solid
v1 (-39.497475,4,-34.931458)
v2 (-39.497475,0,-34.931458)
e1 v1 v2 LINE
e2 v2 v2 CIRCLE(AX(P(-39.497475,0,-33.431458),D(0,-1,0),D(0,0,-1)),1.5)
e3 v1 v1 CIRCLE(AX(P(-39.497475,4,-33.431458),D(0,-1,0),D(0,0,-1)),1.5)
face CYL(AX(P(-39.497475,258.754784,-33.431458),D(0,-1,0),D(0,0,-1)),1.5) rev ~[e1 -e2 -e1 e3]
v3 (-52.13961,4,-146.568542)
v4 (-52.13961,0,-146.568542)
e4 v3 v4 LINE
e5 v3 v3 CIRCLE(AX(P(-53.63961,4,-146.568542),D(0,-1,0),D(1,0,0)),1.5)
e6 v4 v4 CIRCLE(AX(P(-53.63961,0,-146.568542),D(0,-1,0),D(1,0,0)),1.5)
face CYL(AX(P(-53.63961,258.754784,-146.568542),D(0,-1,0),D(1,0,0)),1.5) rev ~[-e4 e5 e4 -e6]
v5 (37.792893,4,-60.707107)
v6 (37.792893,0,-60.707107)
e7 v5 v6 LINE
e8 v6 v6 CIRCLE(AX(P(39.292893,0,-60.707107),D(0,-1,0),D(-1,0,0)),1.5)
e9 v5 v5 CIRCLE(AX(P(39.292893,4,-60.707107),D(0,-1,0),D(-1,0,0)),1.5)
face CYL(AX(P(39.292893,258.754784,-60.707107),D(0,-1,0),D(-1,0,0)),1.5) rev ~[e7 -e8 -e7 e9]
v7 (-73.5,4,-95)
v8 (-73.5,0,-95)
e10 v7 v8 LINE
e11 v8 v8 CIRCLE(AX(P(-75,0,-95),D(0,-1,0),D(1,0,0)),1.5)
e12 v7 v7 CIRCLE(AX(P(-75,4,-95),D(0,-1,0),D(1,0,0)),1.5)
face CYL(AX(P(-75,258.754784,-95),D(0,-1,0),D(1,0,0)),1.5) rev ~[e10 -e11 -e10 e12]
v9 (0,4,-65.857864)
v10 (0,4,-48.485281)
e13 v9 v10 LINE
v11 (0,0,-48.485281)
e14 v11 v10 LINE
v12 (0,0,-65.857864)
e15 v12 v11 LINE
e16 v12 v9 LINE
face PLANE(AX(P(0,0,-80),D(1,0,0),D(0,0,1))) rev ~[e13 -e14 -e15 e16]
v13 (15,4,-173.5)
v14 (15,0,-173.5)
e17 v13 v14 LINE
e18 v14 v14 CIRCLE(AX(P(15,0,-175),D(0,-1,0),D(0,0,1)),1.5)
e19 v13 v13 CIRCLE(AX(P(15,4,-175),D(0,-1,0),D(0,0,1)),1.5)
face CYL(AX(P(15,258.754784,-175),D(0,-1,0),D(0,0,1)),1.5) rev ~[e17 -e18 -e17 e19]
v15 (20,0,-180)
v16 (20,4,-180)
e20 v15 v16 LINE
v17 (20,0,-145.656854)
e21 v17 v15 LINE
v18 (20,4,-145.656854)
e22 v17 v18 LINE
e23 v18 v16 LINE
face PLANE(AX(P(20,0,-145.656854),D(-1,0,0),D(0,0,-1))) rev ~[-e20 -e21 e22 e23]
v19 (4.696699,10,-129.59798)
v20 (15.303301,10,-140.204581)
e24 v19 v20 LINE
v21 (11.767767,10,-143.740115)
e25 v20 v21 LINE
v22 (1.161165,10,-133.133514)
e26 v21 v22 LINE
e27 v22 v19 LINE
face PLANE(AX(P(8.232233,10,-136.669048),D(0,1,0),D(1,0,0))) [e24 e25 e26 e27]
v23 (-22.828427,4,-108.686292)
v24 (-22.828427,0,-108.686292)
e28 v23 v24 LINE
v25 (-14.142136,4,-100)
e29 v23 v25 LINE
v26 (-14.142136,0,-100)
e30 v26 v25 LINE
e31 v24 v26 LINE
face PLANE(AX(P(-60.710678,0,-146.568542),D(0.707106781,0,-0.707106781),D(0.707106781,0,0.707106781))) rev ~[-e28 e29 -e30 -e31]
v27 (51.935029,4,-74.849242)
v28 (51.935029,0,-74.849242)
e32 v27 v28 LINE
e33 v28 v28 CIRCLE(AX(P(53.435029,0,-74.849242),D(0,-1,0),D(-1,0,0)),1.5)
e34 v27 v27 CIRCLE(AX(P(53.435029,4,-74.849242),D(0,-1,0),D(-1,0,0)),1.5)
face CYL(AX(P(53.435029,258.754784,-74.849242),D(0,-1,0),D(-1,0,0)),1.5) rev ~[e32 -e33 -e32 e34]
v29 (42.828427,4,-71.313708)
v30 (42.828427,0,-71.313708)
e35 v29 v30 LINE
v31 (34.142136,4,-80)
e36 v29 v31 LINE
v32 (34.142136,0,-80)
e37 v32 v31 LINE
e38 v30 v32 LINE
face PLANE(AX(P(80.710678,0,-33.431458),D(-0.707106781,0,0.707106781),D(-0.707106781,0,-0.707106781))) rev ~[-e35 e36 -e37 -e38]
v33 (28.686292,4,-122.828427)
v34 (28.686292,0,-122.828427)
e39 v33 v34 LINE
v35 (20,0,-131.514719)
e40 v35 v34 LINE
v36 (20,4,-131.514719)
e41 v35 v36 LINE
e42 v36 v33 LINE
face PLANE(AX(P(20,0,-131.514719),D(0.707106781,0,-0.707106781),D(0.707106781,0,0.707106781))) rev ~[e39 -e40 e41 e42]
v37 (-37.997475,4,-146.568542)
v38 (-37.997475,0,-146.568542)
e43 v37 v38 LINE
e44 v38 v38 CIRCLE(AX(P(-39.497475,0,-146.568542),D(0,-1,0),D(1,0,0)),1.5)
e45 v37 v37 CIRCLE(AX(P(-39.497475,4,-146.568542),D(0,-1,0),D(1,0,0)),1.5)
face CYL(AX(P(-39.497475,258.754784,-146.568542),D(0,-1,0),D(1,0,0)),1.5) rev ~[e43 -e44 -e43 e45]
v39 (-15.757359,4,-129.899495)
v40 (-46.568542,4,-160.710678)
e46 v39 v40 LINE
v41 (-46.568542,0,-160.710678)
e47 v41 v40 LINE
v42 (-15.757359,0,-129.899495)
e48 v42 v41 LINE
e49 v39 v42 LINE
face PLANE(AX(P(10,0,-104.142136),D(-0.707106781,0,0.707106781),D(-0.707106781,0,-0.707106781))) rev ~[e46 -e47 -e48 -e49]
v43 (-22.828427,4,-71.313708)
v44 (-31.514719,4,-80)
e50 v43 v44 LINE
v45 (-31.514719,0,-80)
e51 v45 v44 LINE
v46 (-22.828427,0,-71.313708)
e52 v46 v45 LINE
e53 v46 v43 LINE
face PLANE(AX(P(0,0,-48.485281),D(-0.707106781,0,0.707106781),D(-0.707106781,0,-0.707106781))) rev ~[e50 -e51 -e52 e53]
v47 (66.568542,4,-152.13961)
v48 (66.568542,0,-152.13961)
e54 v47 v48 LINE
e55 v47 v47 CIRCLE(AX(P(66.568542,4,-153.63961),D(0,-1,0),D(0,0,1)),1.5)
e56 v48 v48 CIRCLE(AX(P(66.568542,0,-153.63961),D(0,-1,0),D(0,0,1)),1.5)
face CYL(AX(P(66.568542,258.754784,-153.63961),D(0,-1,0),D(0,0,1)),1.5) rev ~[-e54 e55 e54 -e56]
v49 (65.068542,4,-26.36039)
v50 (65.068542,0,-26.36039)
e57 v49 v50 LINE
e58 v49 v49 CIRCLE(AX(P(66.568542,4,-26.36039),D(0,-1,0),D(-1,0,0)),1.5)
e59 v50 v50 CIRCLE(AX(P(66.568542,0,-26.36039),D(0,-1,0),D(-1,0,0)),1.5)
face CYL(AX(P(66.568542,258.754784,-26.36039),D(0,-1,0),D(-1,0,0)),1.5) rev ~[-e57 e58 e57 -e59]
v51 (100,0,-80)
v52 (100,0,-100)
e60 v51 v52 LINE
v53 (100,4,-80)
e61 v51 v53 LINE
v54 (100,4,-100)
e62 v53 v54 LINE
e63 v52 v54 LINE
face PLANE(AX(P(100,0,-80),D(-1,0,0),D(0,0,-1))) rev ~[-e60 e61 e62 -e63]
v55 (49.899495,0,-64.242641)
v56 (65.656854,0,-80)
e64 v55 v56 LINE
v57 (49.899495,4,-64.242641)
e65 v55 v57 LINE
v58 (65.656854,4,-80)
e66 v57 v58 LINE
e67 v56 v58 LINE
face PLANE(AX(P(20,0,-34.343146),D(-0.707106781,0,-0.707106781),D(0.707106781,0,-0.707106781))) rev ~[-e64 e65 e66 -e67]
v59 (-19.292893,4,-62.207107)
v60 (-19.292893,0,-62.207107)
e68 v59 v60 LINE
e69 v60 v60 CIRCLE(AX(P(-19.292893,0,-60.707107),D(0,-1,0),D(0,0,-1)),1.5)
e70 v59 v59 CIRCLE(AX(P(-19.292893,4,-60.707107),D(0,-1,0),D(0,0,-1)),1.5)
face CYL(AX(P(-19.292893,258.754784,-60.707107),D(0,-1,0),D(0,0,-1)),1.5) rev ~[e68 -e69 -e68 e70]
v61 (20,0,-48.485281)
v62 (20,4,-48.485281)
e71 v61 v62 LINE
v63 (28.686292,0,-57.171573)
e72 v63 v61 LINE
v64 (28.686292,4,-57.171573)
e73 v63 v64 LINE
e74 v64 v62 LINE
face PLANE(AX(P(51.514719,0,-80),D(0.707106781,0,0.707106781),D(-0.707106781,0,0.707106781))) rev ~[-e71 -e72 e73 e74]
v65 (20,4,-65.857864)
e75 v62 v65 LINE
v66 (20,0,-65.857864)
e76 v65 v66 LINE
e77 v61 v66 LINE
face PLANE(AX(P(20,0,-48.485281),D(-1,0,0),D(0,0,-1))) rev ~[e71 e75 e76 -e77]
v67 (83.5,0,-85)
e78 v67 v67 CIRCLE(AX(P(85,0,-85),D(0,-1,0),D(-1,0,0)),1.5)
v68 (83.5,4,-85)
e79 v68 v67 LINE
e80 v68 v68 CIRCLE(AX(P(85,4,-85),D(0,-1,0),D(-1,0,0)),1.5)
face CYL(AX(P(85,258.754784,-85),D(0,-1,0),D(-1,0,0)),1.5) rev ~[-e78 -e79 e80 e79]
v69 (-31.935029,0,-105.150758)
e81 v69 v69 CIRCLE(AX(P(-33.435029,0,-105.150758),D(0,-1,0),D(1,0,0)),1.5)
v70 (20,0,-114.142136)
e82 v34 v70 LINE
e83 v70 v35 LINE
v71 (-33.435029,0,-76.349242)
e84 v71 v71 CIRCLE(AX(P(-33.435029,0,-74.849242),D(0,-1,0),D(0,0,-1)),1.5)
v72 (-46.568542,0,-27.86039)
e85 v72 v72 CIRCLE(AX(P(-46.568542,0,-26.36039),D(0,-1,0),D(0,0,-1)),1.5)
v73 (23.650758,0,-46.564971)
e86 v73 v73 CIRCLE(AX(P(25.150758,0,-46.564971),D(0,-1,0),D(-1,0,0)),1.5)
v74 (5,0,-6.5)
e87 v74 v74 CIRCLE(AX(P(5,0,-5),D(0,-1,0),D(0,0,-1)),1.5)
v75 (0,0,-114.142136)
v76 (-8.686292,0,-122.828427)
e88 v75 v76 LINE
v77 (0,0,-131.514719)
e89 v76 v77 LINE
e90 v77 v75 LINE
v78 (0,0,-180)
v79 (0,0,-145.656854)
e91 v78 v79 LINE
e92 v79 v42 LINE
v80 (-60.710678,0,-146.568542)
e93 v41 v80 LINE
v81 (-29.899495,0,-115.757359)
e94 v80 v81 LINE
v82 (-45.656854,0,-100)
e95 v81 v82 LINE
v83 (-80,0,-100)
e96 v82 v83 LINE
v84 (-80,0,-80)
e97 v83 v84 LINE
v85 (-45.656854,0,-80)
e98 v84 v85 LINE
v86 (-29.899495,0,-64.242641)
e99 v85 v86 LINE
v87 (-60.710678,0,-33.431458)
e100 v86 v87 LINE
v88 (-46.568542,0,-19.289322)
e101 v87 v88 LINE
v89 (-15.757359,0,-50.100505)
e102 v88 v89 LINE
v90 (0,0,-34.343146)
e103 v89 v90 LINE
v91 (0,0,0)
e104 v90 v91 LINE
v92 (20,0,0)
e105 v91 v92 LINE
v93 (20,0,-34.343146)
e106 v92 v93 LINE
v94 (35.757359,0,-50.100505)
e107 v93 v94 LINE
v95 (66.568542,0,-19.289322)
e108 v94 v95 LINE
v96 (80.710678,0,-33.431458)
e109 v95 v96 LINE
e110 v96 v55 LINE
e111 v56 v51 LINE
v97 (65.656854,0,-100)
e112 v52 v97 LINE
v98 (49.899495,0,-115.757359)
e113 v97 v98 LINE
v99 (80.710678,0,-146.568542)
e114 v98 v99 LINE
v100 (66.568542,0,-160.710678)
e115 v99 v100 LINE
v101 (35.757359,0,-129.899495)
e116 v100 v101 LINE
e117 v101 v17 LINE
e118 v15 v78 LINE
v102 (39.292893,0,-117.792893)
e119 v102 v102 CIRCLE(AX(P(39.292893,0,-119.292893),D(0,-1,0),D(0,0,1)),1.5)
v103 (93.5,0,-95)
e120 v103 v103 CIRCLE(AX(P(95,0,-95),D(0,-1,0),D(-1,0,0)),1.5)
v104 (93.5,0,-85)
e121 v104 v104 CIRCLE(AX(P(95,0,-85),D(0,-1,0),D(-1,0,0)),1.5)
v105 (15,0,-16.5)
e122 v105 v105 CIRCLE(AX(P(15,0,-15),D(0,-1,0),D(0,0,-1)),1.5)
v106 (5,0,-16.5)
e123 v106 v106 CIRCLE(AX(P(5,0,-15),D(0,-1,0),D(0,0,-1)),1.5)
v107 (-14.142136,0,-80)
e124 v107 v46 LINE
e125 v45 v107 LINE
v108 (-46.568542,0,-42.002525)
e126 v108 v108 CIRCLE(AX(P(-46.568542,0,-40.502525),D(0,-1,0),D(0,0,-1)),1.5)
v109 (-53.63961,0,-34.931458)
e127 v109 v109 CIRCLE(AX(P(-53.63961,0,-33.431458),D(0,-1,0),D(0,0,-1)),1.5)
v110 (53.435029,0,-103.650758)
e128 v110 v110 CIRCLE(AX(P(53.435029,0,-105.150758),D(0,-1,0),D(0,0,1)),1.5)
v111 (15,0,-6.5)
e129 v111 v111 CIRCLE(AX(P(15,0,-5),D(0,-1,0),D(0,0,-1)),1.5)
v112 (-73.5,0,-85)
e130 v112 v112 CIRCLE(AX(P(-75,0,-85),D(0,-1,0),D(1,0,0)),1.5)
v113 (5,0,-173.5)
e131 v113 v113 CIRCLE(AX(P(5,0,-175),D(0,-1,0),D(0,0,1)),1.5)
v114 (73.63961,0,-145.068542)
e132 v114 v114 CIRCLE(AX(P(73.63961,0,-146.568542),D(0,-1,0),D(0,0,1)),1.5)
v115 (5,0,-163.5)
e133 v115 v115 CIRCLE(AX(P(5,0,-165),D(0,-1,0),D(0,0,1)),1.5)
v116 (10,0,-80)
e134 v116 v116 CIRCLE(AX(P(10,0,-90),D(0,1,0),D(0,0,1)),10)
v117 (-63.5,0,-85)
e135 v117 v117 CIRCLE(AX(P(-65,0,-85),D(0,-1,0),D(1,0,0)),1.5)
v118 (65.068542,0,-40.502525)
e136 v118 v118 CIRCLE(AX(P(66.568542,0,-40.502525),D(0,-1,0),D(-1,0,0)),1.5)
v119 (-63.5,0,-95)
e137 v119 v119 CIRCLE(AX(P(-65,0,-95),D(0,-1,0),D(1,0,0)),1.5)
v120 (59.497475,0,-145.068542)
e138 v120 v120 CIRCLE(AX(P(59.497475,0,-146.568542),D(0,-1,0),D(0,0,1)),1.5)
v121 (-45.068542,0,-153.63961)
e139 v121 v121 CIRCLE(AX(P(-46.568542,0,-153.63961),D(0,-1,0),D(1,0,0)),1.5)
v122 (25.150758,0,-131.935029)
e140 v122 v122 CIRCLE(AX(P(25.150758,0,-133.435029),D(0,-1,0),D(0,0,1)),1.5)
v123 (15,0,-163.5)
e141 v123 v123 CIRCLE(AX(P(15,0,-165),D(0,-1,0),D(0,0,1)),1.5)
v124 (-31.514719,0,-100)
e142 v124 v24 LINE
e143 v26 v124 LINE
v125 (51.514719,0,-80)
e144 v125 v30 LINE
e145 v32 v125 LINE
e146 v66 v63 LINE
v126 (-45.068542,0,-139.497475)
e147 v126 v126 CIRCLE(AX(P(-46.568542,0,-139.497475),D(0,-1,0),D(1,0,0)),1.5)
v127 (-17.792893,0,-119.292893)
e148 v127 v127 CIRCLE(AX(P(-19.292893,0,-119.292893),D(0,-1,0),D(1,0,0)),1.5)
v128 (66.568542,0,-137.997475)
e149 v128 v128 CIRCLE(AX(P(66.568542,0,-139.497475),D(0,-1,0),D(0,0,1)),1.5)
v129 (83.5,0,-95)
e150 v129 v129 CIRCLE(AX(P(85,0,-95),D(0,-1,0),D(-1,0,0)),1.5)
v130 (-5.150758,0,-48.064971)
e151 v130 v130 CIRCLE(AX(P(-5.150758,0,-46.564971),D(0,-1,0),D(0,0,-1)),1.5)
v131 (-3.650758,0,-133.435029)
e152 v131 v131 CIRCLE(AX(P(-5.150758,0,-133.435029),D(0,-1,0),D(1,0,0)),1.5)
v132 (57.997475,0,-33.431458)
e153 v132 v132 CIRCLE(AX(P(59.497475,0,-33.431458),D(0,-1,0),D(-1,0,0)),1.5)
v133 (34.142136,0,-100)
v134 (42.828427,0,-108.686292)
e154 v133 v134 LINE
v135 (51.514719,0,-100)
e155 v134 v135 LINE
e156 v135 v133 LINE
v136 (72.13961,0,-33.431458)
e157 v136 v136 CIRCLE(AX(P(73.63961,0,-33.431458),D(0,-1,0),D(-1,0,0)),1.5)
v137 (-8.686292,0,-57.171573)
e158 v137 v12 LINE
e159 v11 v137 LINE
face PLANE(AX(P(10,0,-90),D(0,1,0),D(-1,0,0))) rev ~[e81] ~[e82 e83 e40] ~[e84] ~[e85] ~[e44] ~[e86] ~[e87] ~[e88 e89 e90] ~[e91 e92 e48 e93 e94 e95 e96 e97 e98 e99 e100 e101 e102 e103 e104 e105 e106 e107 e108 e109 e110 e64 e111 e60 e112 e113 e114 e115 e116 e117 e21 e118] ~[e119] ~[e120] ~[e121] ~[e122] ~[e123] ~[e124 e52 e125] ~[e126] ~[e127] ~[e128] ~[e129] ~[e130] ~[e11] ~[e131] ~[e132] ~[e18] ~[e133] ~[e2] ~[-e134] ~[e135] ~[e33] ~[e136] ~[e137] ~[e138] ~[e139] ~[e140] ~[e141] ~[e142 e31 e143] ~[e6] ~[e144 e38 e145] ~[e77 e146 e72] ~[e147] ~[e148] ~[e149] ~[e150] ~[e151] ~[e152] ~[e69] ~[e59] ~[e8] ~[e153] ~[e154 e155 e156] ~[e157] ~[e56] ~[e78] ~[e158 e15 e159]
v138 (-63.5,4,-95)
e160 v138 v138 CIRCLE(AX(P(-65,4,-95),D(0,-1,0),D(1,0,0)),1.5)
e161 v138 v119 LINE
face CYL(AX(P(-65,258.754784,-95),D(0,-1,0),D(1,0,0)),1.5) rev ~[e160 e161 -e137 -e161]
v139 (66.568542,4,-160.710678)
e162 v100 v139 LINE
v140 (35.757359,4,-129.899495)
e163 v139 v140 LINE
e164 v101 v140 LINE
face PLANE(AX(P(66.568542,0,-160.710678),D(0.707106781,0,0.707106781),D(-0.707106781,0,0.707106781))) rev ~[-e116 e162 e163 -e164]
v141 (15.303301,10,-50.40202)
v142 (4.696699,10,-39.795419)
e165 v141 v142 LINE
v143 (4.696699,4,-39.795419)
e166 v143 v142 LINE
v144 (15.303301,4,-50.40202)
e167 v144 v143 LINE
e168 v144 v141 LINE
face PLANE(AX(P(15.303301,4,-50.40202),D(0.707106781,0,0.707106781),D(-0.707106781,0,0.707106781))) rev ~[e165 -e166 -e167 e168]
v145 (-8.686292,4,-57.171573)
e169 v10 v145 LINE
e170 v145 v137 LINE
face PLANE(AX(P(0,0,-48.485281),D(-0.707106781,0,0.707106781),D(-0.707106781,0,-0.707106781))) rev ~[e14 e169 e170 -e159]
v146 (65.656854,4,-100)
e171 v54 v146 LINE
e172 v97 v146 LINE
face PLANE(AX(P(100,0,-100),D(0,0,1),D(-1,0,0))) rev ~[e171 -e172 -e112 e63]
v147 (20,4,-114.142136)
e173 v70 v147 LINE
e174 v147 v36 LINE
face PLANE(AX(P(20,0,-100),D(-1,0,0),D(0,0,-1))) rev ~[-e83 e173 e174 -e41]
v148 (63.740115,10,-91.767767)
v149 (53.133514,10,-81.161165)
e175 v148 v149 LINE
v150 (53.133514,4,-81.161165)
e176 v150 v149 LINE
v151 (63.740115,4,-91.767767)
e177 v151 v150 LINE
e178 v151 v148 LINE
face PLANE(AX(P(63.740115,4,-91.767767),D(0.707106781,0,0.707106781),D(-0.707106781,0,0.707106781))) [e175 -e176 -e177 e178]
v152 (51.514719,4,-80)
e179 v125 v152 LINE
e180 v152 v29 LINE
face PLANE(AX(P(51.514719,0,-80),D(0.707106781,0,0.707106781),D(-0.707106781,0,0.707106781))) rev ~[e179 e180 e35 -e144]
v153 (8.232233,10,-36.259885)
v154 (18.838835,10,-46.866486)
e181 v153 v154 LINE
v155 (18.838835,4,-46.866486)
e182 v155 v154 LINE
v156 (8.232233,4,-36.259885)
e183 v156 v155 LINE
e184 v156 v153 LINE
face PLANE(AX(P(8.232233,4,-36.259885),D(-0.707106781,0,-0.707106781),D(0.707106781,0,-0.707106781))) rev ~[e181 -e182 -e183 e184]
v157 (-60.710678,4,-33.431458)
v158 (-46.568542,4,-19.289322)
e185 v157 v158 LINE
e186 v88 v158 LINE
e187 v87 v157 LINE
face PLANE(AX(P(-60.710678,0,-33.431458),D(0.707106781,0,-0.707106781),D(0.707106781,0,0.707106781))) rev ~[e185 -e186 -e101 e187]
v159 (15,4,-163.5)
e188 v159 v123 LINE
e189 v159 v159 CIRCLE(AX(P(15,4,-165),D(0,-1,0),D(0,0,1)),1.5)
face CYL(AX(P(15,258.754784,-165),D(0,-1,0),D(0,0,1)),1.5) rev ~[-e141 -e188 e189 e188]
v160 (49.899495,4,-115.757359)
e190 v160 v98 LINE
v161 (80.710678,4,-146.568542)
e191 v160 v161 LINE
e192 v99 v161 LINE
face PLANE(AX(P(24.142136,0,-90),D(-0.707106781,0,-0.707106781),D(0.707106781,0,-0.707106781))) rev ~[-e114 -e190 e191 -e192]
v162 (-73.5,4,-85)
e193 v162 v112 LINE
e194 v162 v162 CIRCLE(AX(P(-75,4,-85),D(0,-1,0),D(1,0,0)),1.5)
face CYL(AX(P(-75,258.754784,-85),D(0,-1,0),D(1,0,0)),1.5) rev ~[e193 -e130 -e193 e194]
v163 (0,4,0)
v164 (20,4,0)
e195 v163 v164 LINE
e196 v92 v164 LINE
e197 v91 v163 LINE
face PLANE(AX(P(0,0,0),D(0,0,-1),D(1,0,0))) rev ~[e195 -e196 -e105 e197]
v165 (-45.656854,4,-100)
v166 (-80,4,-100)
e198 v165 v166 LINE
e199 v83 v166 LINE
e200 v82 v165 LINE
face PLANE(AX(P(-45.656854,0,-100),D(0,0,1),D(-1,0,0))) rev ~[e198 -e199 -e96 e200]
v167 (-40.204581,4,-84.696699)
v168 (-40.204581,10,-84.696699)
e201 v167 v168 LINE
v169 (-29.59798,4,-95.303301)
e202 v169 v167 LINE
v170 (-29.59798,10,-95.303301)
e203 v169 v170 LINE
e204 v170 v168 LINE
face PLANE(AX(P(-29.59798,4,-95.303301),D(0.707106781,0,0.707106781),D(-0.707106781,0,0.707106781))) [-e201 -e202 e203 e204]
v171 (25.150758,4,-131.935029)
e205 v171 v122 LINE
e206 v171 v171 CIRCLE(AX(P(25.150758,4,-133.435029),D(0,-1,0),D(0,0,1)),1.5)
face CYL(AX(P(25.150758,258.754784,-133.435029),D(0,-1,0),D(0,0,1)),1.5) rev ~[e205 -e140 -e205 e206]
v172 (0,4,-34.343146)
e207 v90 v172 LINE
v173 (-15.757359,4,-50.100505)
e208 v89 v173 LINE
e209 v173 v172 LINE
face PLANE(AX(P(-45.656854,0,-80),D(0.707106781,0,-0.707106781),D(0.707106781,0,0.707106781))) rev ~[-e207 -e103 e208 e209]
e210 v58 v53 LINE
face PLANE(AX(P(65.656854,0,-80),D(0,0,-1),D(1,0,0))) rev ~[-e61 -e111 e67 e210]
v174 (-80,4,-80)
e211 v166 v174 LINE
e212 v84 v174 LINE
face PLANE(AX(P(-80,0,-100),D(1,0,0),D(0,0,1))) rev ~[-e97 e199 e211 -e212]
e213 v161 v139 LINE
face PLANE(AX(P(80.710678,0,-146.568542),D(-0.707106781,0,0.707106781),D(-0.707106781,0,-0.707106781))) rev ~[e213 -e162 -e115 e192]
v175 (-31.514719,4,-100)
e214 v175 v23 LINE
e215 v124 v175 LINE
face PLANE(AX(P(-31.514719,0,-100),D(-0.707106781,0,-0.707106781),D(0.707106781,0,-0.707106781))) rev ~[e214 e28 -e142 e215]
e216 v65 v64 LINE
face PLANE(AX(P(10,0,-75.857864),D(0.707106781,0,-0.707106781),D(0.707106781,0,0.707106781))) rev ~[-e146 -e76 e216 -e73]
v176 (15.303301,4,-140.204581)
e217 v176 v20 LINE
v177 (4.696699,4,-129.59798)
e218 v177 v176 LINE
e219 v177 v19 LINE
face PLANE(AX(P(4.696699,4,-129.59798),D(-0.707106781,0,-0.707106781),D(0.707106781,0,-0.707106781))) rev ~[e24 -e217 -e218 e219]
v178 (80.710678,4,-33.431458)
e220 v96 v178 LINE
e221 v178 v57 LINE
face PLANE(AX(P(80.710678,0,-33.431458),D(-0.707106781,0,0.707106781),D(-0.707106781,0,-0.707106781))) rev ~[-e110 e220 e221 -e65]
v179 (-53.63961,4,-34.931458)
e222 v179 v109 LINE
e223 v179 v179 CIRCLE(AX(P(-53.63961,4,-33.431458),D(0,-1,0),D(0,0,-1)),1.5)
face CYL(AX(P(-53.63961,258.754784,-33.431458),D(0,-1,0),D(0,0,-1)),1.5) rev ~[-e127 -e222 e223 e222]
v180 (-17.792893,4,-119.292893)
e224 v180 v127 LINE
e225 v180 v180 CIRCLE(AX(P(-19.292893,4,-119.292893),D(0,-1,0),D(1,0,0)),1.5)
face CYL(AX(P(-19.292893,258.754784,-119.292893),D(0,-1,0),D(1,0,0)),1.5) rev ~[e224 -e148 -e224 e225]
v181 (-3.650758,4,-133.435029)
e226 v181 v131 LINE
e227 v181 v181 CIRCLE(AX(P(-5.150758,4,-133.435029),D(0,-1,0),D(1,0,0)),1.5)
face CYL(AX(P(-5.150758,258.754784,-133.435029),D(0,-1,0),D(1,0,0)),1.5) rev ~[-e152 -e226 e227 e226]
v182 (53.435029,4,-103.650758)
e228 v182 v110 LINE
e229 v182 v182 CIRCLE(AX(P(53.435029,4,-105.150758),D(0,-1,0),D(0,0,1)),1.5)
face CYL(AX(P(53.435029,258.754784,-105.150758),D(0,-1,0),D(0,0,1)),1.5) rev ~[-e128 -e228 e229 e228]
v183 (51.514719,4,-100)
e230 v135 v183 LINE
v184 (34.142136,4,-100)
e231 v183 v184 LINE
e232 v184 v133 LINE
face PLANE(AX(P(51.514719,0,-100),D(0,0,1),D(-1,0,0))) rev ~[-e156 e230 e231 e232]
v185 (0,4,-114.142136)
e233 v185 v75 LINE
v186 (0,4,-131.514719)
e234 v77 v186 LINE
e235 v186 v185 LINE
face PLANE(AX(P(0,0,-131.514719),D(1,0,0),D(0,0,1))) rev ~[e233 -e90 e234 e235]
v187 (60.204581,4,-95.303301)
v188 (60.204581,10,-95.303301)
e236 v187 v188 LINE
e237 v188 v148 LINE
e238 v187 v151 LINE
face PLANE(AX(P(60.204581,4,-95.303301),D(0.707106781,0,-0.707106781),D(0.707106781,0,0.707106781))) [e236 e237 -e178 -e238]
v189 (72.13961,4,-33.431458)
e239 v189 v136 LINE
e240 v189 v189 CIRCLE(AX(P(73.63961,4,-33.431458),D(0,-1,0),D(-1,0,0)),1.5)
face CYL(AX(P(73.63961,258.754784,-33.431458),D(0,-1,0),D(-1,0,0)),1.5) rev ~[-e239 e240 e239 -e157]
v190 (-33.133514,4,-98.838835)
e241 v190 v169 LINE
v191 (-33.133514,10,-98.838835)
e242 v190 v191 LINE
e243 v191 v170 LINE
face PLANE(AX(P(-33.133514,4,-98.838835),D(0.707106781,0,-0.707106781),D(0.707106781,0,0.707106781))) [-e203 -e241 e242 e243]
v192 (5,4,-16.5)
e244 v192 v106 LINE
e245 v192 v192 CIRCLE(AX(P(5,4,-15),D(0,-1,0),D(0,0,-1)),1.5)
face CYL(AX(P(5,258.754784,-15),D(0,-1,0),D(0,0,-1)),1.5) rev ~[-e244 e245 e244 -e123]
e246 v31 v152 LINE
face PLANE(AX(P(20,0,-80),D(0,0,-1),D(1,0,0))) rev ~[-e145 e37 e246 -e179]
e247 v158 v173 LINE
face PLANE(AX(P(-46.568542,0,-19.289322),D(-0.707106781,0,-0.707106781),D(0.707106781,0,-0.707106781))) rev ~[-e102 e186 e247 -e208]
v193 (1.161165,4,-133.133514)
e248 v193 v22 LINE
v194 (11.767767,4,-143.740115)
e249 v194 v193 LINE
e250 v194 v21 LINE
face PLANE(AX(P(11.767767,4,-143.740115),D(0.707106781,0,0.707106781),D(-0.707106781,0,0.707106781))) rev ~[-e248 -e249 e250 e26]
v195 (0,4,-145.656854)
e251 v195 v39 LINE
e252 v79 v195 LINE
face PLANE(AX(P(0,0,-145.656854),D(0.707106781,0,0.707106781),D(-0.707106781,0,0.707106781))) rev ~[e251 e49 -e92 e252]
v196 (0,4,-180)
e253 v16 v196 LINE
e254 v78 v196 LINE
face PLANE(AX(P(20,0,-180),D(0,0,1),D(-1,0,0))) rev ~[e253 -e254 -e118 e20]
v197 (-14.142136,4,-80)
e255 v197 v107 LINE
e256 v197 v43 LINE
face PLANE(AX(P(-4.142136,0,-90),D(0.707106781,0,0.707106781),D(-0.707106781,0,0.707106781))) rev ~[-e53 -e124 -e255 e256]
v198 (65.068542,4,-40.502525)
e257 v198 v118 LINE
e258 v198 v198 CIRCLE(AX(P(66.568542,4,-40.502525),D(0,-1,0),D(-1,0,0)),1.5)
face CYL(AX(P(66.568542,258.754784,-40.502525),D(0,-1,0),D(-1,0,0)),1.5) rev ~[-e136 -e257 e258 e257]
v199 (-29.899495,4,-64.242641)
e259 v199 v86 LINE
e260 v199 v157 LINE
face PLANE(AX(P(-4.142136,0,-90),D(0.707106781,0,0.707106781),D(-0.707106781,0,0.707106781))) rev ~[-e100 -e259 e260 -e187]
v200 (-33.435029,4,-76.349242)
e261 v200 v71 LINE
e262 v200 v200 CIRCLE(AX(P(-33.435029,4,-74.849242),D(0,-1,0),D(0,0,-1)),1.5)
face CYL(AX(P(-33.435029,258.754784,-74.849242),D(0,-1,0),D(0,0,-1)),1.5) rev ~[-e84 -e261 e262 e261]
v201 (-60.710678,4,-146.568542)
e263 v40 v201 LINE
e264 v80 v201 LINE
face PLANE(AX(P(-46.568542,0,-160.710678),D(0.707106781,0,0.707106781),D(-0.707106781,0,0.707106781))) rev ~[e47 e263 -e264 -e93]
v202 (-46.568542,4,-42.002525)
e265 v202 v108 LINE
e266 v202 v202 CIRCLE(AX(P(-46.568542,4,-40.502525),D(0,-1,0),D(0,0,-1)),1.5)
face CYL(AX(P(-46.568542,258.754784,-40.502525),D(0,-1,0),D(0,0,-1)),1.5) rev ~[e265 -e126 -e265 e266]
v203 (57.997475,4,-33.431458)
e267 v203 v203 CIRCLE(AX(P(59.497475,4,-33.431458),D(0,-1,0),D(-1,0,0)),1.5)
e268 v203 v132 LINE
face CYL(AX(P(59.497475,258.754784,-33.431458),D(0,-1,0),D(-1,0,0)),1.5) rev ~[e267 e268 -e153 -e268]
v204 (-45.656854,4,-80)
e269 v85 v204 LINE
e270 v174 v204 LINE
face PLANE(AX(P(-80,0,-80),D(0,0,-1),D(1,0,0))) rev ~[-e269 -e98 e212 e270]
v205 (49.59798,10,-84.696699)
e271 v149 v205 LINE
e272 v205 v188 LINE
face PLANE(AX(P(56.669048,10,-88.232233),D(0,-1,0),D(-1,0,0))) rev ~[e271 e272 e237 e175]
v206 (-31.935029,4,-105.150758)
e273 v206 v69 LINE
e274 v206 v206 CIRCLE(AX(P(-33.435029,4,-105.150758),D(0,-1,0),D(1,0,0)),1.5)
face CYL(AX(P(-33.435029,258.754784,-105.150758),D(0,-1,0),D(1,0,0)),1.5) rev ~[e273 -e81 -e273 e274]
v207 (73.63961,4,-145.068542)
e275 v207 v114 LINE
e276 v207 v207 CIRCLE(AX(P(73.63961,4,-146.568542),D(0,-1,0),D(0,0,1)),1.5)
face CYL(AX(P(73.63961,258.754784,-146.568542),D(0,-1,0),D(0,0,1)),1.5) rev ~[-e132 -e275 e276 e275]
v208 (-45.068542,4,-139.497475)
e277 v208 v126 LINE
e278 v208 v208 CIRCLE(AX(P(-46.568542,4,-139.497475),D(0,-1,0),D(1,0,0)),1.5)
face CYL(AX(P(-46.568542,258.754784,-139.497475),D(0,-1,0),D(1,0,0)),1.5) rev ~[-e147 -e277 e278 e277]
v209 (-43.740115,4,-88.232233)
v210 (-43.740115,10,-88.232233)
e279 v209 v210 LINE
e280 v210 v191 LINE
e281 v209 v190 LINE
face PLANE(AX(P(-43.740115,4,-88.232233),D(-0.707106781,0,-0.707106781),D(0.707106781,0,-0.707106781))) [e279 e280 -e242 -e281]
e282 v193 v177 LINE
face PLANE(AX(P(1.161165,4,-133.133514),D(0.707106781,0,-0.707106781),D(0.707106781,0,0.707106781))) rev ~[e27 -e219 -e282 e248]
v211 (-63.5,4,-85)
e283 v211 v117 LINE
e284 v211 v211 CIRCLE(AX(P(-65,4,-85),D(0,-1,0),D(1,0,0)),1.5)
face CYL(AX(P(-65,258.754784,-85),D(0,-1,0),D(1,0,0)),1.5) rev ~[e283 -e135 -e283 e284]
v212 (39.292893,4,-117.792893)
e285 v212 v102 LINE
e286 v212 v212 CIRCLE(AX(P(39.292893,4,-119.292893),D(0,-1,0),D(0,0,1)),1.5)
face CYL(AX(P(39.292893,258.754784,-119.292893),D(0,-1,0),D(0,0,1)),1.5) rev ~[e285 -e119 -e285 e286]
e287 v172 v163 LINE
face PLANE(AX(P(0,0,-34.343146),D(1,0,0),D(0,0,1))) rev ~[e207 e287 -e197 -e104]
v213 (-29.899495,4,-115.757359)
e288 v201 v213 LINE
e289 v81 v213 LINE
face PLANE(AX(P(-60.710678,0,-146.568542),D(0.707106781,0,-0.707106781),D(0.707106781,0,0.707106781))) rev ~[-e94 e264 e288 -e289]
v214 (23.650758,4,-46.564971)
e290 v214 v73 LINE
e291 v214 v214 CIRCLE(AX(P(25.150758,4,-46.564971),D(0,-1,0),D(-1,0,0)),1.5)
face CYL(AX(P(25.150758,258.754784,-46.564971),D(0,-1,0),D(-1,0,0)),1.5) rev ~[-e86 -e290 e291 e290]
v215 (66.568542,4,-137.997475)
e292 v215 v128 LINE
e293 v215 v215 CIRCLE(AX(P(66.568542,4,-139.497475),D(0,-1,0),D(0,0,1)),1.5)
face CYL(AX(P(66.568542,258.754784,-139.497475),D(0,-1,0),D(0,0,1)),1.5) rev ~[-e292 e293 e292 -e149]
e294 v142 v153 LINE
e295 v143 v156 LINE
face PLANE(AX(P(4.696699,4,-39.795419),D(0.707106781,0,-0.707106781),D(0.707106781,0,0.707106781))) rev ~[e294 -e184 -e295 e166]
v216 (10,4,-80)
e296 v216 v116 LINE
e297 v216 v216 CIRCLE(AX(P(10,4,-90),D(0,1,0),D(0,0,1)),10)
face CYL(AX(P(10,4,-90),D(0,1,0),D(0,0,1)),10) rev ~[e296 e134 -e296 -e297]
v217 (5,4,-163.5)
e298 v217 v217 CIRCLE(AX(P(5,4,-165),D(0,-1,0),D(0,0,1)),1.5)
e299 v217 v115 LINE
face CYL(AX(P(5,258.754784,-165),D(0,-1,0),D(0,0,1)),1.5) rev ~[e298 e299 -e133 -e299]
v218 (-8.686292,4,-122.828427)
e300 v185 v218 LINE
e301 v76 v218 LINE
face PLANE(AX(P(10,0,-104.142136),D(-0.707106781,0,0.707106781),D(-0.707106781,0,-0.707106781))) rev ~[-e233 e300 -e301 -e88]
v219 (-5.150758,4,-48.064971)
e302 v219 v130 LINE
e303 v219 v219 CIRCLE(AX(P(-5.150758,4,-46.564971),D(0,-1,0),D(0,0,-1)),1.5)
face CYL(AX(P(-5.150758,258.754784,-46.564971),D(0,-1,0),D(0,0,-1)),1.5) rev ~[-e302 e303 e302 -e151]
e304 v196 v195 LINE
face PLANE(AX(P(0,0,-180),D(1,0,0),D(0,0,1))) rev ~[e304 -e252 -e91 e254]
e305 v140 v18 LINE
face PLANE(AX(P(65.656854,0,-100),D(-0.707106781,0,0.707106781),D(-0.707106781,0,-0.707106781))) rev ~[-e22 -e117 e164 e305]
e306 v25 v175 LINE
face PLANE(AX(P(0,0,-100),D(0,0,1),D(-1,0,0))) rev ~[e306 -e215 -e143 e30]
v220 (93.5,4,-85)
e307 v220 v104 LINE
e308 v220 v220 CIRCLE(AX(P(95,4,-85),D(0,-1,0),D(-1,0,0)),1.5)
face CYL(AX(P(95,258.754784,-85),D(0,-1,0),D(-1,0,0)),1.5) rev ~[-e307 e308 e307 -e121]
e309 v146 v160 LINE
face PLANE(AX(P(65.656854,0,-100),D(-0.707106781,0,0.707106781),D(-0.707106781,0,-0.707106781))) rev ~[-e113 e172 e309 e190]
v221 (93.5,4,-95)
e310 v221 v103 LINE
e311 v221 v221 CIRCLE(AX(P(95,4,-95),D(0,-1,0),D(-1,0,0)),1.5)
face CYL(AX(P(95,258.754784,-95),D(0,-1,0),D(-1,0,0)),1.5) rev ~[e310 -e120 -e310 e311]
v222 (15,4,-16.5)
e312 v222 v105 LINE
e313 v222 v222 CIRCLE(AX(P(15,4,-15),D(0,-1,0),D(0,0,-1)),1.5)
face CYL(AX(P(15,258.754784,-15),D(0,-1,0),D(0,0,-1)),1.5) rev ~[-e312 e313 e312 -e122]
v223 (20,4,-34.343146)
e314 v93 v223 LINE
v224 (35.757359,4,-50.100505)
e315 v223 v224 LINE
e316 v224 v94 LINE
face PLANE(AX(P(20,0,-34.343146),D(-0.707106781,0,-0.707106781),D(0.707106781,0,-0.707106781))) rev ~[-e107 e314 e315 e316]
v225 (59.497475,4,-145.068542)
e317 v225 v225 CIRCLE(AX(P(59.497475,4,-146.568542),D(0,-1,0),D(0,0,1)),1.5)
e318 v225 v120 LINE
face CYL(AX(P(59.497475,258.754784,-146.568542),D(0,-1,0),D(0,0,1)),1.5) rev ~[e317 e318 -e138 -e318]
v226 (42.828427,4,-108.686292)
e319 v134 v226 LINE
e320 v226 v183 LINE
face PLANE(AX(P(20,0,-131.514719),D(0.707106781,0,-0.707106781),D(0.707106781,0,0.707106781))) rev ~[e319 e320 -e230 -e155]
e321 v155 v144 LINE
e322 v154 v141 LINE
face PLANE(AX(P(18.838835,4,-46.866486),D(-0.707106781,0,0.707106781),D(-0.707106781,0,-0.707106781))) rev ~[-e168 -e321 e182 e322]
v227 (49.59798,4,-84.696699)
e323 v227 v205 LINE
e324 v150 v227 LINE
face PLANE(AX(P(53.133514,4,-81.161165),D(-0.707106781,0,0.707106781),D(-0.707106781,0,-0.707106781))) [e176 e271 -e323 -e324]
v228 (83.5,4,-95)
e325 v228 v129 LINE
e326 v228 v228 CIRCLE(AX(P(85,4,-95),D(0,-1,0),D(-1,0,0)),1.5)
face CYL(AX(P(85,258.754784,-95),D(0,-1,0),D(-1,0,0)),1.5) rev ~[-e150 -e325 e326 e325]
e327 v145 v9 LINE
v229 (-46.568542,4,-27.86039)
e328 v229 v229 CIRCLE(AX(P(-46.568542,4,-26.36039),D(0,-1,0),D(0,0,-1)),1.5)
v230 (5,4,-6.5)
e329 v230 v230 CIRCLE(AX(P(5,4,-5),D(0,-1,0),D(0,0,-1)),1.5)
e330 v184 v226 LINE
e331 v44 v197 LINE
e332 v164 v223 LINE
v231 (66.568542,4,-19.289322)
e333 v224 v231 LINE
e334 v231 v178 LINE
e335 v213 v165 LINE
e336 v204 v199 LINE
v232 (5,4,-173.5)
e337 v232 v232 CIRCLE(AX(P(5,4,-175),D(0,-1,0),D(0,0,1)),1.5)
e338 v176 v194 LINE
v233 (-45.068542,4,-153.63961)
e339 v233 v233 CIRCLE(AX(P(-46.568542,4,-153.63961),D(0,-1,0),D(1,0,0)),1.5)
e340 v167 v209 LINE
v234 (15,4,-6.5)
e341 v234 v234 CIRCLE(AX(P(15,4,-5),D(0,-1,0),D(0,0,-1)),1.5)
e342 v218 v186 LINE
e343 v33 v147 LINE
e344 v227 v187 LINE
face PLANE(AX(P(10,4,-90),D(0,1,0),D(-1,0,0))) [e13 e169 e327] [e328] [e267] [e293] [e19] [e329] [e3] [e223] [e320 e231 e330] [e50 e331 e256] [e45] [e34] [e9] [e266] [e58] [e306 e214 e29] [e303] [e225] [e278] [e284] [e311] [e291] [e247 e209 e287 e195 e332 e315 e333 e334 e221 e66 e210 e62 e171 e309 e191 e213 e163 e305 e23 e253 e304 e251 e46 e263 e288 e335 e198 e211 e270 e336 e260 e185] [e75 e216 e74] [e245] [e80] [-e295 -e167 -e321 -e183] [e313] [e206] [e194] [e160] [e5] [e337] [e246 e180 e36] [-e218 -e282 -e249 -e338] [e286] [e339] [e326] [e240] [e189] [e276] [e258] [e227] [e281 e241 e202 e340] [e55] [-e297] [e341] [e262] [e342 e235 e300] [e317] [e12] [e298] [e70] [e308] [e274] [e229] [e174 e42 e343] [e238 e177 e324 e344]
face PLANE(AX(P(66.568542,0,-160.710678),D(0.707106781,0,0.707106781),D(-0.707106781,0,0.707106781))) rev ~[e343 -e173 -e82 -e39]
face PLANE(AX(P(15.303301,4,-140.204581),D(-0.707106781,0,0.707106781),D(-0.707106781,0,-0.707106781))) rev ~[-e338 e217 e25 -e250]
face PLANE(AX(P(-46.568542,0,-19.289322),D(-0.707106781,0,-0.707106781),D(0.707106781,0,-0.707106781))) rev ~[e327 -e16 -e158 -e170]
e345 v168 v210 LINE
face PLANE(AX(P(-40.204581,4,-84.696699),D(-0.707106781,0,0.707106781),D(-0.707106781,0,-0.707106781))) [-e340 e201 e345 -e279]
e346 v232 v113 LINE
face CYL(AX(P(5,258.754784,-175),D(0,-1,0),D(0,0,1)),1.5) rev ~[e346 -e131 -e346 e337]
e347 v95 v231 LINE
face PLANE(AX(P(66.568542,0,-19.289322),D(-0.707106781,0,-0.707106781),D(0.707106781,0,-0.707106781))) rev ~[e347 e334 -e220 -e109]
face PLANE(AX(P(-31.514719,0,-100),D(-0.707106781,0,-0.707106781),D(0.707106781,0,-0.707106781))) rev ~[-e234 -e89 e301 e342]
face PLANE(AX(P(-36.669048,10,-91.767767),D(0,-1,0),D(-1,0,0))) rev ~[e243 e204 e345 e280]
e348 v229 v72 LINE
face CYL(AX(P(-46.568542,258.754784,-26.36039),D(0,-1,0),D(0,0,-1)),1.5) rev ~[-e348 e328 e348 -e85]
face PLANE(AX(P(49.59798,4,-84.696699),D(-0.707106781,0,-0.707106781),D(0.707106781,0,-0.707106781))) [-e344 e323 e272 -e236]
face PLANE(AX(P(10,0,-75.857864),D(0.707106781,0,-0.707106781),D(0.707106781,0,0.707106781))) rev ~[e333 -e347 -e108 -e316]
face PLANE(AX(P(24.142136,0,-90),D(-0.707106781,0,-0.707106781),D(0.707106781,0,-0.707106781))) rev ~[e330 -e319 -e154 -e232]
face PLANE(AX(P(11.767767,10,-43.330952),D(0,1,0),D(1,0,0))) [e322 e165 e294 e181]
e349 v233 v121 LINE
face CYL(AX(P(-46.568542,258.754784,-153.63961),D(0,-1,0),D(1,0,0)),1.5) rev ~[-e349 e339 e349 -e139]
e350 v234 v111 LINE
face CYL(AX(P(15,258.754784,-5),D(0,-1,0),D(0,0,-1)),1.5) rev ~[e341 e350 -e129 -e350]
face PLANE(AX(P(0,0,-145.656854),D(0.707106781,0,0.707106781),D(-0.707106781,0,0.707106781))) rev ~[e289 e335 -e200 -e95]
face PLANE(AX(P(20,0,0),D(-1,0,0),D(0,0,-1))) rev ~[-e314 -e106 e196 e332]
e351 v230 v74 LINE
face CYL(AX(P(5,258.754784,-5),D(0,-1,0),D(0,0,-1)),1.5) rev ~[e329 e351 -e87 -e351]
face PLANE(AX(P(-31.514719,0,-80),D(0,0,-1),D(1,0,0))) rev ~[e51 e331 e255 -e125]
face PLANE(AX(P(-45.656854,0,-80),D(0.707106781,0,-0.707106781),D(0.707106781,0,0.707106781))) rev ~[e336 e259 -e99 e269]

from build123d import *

# Parameters (mm, degrees)
SKETCH1_R             = 1.5
BASE_DEPTH            = 4
BATTERYCLIP_DEPTH     = 6
BOSS_EXTRUDE1_DEPTH   = 4
F_3_0MM_DOWEL_HOLE2_D = 3
CIRPATTERN2_COUNT     = 4
SKETCH7_R             = 10
REFRERENCE_DEPTH      = 10


with BuildPart() as part:
    # Sketch1 → Base (new body)
    with BuildSketch(Plane(origin=(0, 0, 0), x_dir=(1, 0, 0), z_dir=(0, 1, 0))):
        Polygon((100, 100), (65.656854249, 100), (20, 145.656854249), (20, 180), (0, 180), (0, 145.656854249), (-45.656854249, 100), (-80, 100), (-80, 80), (-45.656854249, 80), (0, 34.343145751), (0, 0), (20, 0), (20, 34.343145751), (65.656854249, 80), (100, 80), align=None)
        Polygon((51.514718626, 100), (20, 100), (20, 131.514718626), align=None, mode=Mode.SUBTRACT)
        Polygon((-31.514718626, 80), (0, 80), (0, 48.485281374), align=None, mode=Mode.SUBTRACT)
        Polygon((0, 131.514718626), (0, 100), (-31.514718626, 100), align=None, mode=Mode.SUBTRACT)
        Polygon((20, 48.485281374), (20, 80), (51.514718626, 80), align=None, mode=Mode.SUBTRACT)
        with Locations(Location((10, 90, 0), (0, 0, 270))):
            Circle(SKETCH1_R, mode=Mode.SUBTRACT)
    extrude(amount=BASE_DEPTH)

    # Sketch2 → BatteryClip (add)
    with BuildSketch(Plane(origin=(0, 4, 0), x_dir=(1, 0, 0), z_dir=(0, 1, 0))):
        Polygon((15.303300859, 50.402020254), (4.696699141, 39.795418536), (8.232233047, 36.25988463), (18.838834765, 46.866486348), align=None)
        Polygon((11.767766953, 143.74011537), (1.161165235, 133.133513652), (4.696699141, 129.597979746), (15.303300859, 140.204581464), align=None)
        Polygon((49.597979746, 84.696699141), (60.204581464, 95.303300859), (63.74011537, 91.767766953), (53.133513652, 81.161165235), align=None)
        Polygon((-43.74011537, 88.232233047), (-33.133513652, 98.838834765), (-29.597979746, 95.303300859), (-40.204581464, 84.696699141), align=None)
    extrude(amount=BATTERYCLIP_DEPTH)

    # Sketch6 → Boss-Extrude1 (add)
    with BuildSketch(Plane.XZ):
        Polygon((66.568542495, -160.710678119), (10, -104.142135624), (-46.568542495, -160.710678119), (-60.710678119, -146.568542495), (-4.142135624, -90), (-60.710678119, -33.431457505), (-46.568542495, -19.289321881), (10, -75.857864376), (66.568542495, -19.289321881), (80.710678119, -33.431457505), (24.142135624, -90), (80.710678119, -146.568542495), align=None)
    extrude(amount=-BOSS_EXTRUDE1_DEPTH)

    # Ø3.0mm Dowel Hole2 (through all)
    with Locations(Plane(origin=(5, 4, -5), x_dir=(0, 0, 1), z_dir=(0, 1, 0))):
        with Locations((0, 0), (-10, 0), (-10, 10), (0, 10), (-41.564971157, -10.150757595), (-55.707106781, -24.292893219), (-69.849242405, -38.435028843), (-28.431457505, -58.639610307), (-35.502525317, -51.568542495), (-28.431457505, -44.497474683), (-21.360389693, -51.568542495)):
            f_3_0mm_dowel_hole2 = Hole(F_3_0MM_DOWEL_HOLE2_D / 2)

    # CirPattern2: Ø3.0mm Dowel Hole2 ×4 about axis
    cirpattern2_axis = Axis((10, 0, -90), (0, 1, 0))
    for i in range(1, CIRPATTERN2_COUNT):
        add(f_3_0mm_dowel_hole2.rotate(cirpattern2_axis, i * 360 / CIRPATTERN2_COUNT), mode=Mode.SUBTRACT)

    # Sketch7 → Refrerence (cut)
    with BuildSketch(Plane(origin=(0, 4, 0), x_dir=(1, 0, 0), z_dir=(0, 1, 0))):
        with Locations(Location((10, 90, 0), (0, 0, 270))):
            Circle(SKETCH7_R)
    extrude(amount=-REFRERENCE_DEPTH, mode=Mode.SUBTRACT)


solid = part.part
